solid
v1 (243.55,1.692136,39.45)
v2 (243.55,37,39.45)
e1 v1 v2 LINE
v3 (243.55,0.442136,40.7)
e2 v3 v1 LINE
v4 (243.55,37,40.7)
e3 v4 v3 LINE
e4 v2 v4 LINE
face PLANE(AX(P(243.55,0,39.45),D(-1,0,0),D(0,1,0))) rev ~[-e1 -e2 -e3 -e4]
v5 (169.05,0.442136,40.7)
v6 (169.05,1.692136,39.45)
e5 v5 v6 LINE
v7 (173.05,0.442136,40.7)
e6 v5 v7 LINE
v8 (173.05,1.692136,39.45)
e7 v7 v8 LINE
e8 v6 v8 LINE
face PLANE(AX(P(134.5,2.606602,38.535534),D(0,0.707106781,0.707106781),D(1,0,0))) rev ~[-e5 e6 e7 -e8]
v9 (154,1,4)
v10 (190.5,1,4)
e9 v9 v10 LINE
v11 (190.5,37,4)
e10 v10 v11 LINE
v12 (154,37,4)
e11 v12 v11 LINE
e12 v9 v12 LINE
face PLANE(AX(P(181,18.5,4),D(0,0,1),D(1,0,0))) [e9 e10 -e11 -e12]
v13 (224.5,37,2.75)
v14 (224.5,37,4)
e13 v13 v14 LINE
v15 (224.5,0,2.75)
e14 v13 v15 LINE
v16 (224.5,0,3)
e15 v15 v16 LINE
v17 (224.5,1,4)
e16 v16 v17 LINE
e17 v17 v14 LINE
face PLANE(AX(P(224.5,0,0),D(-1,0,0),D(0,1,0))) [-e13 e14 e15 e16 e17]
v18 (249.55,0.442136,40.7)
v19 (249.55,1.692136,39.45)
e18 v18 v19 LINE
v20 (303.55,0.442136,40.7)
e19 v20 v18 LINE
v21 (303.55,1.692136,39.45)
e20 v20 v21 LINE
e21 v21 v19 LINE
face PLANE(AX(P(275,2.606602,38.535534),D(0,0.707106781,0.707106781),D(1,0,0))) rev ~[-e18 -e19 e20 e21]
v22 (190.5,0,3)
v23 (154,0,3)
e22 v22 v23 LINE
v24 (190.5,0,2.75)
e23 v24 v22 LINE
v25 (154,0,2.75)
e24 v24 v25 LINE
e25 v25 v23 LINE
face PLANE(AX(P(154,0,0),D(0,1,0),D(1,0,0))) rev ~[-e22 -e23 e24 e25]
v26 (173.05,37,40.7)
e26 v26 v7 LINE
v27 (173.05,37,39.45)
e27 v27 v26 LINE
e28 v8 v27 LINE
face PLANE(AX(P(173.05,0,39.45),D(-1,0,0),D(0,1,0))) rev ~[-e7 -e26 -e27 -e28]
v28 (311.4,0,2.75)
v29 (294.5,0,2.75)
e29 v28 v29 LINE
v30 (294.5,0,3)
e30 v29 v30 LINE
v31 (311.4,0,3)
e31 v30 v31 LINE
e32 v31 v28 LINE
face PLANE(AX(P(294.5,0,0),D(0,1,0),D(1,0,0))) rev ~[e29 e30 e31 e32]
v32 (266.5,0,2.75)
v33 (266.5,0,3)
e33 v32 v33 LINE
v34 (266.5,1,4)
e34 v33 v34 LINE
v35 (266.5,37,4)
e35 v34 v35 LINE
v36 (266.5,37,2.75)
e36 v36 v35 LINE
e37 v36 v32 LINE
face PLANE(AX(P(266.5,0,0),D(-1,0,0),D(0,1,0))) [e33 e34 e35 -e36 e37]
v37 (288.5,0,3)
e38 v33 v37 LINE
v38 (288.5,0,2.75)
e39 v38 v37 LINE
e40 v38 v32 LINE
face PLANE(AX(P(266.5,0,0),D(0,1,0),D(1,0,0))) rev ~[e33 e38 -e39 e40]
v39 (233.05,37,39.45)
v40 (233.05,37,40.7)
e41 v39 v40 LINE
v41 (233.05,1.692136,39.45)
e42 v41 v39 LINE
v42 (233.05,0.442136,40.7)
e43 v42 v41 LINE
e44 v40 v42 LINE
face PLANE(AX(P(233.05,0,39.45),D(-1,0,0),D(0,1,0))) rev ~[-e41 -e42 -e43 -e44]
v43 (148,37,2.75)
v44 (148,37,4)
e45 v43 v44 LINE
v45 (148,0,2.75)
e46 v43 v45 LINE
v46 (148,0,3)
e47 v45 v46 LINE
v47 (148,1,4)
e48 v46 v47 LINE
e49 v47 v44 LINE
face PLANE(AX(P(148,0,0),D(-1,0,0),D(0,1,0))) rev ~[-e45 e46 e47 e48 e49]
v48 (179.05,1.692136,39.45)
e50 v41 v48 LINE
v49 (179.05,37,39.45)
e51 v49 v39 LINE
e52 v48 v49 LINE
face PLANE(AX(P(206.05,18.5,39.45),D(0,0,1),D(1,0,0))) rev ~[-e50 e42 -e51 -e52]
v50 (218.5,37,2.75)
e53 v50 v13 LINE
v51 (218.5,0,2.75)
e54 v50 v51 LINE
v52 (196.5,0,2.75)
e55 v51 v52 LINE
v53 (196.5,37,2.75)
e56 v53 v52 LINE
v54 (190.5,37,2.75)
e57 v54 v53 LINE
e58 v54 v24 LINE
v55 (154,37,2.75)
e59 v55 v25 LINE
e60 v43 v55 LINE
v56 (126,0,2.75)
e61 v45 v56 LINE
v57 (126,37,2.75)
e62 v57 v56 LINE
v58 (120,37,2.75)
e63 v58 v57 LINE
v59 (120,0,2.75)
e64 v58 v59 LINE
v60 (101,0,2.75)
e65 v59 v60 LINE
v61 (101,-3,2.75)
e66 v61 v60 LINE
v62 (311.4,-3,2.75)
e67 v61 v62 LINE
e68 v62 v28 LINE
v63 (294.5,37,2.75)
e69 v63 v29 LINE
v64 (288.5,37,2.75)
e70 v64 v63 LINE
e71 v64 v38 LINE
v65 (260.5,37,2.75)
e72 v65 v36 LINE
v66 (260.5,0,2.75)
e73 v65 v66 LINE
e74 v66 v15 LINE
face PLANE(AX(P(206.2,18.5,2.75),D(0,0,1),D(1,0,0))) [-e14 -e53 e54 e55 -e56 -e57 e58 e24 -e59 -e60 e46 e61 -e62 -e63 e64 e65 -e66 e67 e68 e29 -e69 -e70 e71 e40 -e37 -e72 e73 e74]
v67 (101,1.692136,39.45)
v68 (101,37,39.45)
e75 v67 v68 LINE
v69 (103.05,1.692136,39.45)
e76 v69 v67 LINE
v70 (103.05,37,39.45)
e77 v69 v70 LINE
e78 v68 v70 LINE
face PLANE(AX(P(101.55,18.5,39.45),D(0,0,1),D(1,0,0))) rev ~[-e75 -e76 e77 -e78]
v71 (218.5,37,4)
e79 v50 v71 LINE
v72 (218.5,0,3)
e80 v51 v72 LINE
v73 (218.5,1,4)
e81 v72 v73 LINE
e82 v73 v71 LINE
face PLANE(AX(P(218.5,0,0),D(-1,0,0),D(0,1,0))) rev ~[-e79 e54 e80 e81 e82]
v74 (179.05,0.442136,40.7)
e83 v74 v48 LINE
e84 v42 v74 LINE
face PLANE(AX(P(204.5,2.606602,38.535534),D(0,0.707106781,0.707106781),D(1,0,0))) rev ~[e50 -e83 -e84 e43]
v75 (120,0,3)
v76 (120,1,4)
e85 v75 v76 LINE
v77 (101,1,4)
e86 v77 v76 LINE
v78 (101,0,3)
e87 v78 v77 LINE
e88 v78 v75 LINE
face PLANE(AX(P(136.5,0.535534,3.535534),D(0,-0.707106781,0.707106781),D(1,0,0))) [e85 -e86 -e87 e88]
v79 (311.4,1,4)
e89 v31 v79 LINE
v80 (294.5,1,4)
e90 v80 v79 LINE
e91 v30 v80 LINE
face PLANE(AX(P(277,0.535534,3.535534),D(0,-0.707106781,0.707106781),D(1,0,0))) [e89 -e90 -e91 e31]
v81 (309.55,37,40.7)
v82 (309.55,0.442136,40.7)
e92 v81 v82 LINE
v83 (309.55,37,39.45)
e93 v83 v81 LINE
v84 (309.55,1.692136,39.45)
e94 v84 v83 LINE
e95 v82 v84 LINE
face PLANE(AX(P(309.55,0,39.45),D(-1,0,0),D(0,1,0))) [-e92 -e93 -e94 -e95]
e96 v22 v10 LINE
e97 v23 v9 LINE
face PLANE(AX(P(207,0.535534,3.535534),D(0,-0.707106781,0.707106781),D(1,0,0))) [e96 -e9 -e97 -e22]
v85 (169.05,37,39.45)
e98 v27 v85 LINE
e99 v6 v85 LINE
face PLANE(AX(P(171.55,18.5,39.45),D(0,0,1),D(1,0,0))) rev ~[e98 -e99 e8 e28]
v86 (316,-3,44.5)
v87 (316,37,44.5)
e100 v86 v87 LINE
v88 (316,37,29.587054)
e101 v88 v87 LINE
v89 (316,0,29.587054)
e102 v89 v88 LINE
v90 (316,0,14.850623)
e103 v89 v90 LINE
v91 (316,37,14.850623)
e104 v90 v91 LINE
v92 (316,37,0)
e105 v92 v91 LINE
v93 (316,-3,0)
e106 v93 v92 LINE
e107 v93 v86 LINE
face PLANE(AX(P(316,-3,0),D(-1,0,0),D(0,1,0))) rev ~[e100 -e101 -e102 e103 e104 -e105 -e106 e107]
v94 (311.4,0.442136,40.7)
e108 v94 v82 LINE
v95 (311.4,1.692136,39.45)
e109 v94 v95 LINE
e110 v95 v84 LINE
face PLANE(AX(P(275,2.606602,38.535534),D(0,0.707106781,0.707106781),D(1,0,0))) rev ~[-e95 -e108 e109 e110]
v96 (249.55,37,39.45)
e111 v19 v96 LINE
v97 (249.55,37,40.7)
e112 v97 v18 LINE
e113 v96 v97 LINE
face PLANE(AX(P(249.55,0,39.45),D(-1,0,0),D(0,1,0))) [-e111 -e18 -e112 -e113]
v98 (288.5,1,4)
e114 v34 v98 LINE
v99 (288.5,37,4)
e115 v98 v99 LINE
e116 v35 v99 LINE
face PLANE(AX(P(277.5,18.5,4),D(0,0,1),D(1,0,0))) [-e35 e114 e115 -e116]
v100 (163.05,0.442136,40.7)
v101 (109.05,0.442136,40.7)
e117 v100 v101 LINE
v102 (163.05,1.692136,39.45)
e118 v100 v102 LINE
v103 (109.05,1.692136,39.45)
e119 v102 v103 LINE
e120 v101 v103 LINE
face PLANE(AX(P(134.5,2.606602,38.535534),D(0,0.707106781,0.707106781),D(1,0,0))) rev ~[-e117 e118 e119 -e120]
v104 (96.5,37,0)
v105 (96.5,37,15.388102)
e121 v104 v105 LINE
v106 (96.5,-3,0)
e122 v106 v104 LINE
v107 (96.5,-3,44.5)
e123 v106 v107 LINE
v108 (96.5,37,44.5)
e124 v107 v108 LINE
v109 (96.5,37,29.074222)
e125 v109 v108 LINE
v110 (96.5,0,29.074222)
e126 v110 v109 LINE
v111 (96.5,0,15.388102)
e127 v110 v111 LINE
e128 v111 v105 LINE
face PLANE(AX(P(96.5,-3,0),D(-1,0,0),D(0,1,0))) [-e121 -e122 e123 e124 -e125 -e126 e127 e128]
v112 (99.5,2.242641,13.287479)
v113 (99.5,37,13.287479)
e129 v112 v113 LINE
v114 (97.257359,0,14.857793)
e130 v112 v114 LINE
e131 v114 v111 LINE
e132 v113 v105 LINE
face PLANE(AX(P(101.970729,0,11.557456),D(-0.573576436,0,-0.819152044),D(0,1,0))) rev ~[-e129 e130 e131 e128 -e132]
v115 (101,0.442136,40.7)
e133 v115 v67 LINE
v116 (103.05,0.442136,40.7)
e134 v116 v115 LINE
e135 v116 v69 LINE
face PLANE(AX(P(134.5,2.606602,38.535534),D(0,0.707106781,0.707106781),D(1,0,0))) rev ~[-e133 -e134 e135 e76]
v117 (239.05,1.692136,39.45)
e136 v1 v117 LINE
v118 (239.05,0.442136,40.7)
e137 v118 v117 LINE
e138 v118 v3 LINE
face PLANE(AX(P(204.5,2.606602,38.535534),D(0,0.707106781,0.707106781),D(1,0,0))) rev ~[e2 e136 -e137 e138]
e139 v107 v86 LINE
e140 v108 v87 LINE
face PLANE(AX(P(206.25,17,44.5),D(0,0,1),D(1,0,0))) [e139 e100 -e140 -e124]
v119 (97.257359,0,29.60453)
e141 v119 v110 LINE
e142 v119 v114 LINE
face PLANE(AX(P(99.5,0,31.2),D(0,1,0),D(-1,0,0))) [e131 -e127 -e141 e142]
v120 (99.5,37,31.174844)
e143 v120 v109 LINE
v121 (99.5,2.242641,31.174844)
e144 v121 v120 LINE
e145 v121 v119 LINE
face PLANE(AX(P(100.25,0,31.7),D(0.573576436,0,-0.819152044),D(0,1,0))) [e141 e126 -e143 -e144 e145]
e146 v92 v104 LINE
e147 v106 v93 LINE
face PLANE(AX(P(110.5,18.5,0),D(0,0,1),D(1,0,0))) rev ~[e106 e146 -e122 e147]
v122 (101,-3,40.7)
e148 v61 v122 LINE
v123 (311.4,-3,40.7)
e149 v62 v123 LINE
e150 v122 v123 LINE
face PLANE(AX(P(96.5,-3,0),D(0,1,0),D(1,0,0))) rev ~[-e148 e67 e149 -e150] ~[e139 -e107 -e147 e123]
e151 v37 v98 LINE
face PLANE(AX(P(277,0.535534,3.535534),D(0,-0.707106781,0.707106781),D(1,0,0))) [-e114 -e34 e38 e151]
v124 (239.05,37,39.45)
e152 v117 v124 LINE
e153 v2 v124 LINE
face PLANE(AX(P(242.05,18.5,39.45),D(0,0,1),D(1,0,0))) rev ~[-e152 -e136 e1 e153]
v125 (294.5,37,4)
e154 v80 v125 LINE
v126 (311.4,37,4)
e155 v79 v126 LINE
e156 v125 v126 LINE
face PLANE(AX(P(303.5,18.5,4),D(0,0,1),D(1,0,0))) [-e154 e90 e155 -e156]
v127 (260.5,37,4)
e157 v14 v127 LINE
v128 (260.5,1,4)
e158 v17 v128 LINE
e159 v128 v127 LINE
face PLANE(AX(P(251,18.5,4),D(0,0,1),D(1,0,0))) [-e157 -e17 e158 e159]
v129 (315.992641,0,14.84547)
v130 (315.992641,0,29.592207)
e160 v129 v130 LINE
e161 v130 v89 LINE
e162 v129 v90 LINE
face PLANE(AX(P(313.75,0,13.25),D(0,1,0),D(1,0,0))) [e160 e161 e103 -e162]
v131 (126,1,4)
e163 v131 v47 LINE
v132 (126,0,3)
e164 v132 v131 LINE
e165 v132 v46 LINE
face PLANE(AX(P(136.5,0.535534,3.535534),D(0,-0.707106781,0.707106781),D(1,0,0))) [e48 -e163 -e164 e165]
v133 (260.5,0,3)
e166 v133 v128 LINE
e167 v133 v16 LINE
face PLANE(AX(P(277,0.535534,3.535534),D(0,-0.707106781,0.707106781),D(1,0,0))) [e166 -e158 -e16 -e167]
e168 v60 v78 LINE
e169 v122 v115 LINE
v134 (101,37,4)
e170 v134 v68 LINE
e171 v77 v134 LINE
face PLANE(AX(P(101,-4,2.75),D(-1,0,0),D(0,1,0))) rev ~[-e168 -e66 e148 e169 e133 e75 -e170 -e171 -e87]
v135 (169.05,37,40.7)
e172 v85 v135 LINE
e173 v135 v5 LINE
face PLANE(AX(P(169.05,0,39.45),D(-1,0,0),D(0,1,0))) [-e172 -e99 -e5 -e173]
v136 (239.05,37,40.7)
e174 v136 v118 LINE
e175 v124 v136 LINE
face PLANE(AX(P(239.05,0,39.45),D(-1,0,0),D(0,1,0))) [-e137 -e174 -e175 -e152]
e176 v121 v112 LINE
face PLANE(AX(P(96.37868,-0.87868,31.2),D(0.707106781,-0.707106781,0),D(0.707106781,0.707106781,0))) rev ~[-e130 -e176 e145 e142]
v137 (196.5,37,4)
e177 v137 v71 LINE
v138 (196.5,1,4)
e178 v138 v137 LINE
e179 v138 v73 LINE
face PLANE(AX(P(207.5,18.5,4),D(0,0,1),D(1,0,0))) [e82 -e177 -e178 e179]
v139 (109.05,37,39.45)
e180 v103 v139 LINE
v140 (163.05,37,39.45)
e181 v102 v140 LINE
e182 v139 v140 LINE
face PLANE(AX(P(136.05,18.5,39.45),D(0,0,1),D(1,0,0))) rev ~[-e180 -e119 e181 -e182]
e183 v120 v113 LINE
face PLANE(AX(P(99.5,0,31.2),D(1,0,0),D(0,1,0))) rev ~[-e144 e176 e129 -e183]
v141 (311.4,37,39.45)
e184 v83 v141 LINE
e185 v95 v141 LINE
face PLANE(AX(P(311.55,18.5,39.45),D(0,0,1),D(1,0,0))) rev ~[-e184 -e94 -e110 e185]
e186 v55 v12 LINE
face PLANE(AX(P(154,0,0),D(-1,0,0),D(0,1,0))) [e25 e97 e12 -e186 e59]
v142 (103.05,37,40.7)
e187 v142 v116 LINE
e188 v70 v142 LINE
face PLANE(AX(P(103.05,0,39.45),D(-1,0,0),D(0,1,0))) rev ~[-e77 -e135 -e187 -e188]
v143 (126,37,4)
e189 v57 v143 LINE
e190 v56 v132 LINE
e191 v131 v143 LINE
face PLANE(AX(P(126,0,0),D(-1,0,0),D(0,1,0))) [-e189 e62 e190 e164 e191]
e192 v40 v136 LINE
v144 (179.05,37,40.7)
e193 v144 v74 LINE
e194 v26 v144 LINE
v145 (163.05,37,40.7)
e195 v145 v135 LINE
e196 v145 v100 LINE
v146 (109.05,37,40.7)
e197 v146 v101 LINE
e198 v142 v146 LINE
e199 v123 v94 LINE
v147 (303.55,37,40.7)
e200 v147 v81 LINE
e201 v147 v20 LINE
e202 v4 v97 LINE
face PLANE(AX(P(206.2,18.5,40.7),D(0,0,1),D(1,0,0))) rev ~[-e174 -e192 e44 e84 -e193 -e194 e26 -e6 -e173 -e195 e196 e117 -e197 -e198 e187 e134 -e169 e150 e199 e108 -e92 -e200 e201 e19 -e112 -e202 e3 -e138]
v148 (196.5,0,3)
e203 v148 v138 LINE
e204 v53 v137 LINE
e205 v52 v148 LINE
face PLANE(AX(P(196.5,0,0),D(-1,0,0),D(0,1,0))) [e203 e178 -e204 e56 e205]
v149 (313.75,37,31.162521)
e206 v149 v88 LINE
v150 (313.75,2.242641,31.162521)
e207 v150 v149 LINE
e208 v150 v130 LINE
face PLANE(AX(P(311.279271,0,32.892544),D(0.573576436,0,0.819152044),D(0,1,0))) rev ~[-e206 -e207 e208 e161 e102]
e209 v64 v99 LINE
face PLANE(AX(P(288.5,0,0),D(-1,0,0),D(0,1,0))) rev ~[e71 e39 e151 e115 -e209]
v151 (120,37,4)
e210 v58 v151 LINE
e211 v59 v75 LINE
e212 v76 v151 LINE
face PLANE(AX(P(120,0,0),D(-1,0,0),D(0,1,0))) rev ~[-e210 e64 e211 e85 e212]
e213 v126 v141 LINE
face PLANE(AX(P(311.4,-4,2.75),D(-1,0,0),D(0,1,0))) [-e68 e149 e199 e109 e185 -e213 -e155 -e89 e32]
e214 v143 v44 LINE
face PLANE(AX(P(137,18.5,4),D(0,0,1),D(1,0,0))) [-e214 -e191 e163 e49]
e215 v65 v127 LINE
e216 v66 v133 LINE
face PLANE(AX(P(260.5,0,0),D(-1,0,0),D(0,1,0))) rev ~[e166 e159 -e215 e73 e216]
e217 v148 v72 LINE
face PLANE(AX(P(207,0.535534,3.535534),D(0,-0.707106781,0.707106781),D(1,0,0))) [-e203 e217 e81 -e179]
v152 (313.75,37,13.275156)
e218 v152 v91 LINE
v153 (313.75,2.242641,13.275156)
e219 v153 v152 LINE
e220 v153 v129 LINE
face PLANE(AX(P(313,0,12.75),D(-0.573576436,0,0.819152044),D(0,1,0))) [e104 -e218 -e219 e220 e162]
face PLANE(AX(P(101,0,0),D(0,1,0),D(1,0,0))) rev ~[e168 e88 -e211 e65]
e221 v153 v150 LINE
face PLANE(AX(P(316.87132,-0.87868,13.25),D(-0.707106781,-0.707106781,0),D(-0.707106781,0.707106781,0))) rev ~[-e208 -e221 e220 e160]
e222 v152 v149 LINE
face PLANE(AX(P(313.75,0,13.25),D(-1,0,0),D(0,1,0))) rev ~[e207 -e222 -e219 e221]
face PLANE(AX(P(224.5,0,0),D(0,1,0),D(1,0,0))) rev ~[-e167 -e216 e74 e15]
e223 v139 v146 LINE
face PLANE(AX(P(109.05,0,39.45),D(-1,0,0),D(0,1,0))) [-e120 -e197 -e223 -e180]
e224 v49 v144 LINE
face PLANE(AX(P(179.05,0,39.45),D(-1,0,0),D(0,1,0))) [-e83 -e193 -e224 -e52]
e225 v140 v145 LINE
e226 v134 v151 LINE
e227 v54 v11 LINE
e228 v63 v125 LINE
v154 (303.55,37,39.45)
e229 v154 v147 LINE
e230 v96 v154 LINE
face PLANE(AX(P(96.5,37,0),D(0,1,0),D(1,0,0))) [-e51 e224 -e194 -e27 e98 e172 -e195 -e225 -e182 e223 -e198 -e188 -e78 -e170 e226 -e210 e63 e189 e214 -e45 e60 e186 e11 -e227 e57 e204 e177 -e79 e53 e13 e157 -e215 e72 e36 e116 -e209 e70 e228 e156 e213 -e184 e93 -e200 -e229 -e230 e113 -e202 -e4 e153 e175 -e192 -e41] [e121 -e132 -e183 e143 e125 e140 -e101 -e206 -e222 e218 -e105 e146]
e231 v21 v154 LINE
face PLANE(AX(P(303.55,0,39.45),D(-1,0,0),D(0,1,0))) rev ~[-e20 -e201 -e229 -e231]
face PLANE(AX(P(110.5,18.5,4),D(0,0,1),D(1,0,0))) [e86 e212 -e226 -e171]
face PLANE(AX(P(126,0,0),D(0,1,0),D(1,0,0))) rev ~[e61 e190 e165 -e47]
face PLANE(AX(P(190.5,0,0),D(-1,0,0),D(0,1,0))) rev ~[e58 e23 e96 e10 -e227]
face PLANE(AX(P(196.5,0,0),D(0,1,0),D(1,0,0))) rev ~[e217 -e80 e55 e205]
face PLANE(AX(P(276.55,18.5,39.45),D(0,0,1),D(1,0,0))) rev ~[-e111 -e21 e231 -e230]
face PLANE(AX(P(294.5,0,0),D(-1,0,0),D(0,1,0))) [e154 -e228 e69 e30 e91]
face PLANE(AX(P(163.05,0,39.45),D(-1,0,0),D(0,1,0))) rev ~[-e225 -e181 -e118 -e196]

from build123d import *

# Parameters (mm, degrees)
BOX031_W               = 85
BOX031_H               = 10
BOX031_DEPTH           = 10
BOX031_PLACEMENT_ANGLE = 45
BOX030_W               = 3
BOX030_H               = 37
BOX030_DEPTH           = 4
BOX032_W               = 4
BOX032_H               = 37
BOX032_DEPTH           = 4
BOX033_W               = 54
BOX033_H               = 37
BOX033_DEPTH           = 4
BOX035_W               = 85
BOX035_H               = 10
BOX035_DEPTH           = 10
BOX035_PLACEMENT_ANGLE = 45
BOX037_W               = 3
BOX037_H               = 37
BOX037_DEPTH           = 4
BOX034_W               = 4
BOX034_H               = 37
BOX034_DEPTH           = 4
BOX036_W               = 54
BOX036_H               = 37
BOX036_DEPTH           = 4
BOX039_W               = 85
BOX039_H               = 10
BOX039_DEPTH           = 10
BOX039_PLACEMENT_ANGLE = 45
BOX041_W               = 3
BOX041_H               = 37
BOX041_DEPTH           = 4
BOX038_W               = 4
BOX038_H               = 37
BOX038_DEPTH           = 4
BOX040_W               = 54
BOX040_H               = 37
BOX040_DEPTH           = 4
BOX045_W               = 71
BOX045_H               = 10
BOX045_DEPTH           = 10
BOX045_PLACEMENT_ANGLE = 45
BOX044_W               = 22
BOX044_H               = 37
BOX044_DEPTH           = 4
BOX042_W               = 18
BOX042_H               = 37
BOX042_DEPTH           = 4
BOX043_W               = 19
BOX043_H               = 37
BOX043_DEPTH           = 4
BOX049_W               = 71
BOX049_H               = 10
BOX049_DEPTH           = 10
BOX049_PLACEMENT_ANGLE = 45
BOX048_W               = 22
BOX048_H               = 37
BOX048_DEPTH           = 4
BOX046_W               = 18
BOX046_H               = 37
BOX046_DEPTH           = 4
BOX047_W               = 19
BOX047_H               = 37
BOX047_DEPTH           = 4
BOX053_W               = 71
BOX053_H               = 10
BOX053_DEPTH           = 10
BOX053_PLACEMENT_ANGLE = 45
BOX052_W               = 22
BOX052_H               = 37
BOX052_DEPTH           = 4
BOX050_W               = 18
BOX050_H               = 37
BOX050_DEPTH           = 4
BOX051_W               = 19
BOX051_H               = 37
BOX051_DEPTH           = 4
BOX029_W               = 210.4
BOX029_H               = 45
BOX029_DEPTH           = 37.95
BOX010_W               = 3
BOX010_H               = 37
BOX010_DEPTH           = 17.92
BOX010_PLACEMENT_ANGLE = 45
BOX008_W               = 3
BOX008_H               = 37
BOX008_DEPTH           = 17.92
BOX008_PLACEMENT_ANGLE = 55
BOX009_W               = 3
BOX009_H               = 37
BOX009_DEPTH           = 17.92
BOX009_PLACEMENT_ANGLE = 125
BOX011_W               = 3
BOX011_H               = 37
BOX011_DEPTH           = 17.92
CUT004_PLACEMENT_ANGLE = 180
BOX007_W               = 3
BOX007_H               = 37
BOX007_DEPTH           = 17.92
BOX007_PLACEMENT_ANGLE = 45
BOX005_W               = 3
BOX005_H               = 37
BOX005_DEPTH           = 17.92
BOX005_PLACEMENT_ANGLE = 55
BOX006_W               = 3
BOX006_H               = 37
BOX006_DEPTH           = 17.92
BOX006_PLACEMENT_ANGLE = 125
BOX004_W               = 3
BOX004_H               = 37
BOX004_DEPTH           = 17.92
BOX002_W               = 219.5
BOX002_H               = 40
BOX002_DEPTH           = 44.5


with BuildPart() as cube031:
    # Box031 → Box031 (new body)
    with BuildSketch(Plane.XY):
        with Locations((42.5, 5)):
            Rectangle(BOX031_W, BOX031_H)
    extrude(amount=BOX031_DEPTH)


with BuildPart() as cube031_1:
    # Box031 placement: moved
    add(cube031.part.moved(Location((13, -8, 35))).rotate(Axis((13, -8, 35), (-1, 0, 0)), BOX031_PLACEMENT_ANGLE))


with BuildPart() as cube030:
    # Box030 → Box030 (new body)
    with BuildSketch(Plane(origin=(21.05, 0, 39.45), x_dir=(1, 0, 0), z_dir=(0, 0, 1))):
        with Locations((1.5, 18.5)):
            Rectangle(BOX030_W, BOX030_H)
    extrude(amount=BOX030_DEPTH)


with BuildPart() as cube032:
    # Box032 → Box032 (new body)
    with BuildSketch(Plane(origin=(90.05, 0, 39.45), x_dir=(1, 0, 0), z_dir=(0, 0, 1))):
        with Locations((2, 18.5)):
            Rectangle(BOX032_W, BOX032_H)
    extrude(amount=BOX032_DEPTH)


with BuildPart() as cut013:
    # Box033 → Box033 (new body)
    with BuildSketch(Plane(origin=(30.05, 0, 39.45), x_dir=(1, 0, 0), z_dir=(0, 0, 1))):
        with Locations((27, 18.5)):
            Rectangle(BOX033_W, BOX033_H)
    extrude(amount=BOX033_DEPTH)

    # Fusion008: union Cube030, Cube032
    add(cube030.part)
    add(cube032.part)

    # Cut013: cut Cube031
    add(cube031_1.part, mode=Mode.SUBTRACT)


with BuildPart() as cut013_1:
    # Cut013 placement: moved
    add(cut013.part.moved(Location((219.5, 0, 0))))


with BuildPart() as cube035:
    # Box035 → Box035 (new body)
    with BuildSketch(Plane.XY):
        with Locations((42.5, 5)):
            Rectangle(BOX035_W, BOX035_H)
    extrude(amount=BOX035_DEPTH)


with BuildPart() as cube035_1:
    # Box035 placement: moved
    add(cube035.part.moved(Location((13, -8, 35))).rotate(Axis((13, -8, 35), (-1, 0, 0)), BOX035_PLACEMENT_ANGLE))


with BuildPart() as cube037:
    # Box037 → Box037 (new body)
    with BuildSketch(Plane(origin=(21.05, 0, 39.45), x_dir=(1, 0, 0), z_dir=(0, 0, 1))):
        with Locations((1.5, 18.5)):
            Rectangle(BOX037_W, BOX037_H)
    extrude(amount=BOX037_DEPTH)


with BuildPart() as cube034:
    # Box034 → Box034 (new body)
    with BuildSketch(Plane(origin=(90.05, 0, 39.45), x_dir=(1, 0, 0), z_dir=(0, 0, 1))):
        with Locations((2, 18.5)):
            Rectangle(BOX034_W, BOX034_H)
    extrude(amount=BOX034_DEPTH)


with BuildPart() as cut014:
    # Box036 → Box036 (new body)
    with BuildSketch(Plane(origin=(30.05, 0, 39.45), x_dir=(1, 0, 0), z_dir=(0, 0, 1))):
        with Locations((27, 18.5)):
            Rectangle(BOX036_W, BOX036_H)
    extrude(amount=BOX036_DEPTH)

    # Fusion009: union Cube037, Cube034
    add(cube037.part)
    add(cube034.part)

    # Cut014: cut Cube035
    add(cube035_1.part, mode=Mode.SUBTRACT)


with BuildPart() as cut014_1:
    # Cut014 placement: moved
    add(cut014.part.moved(Location((149, 0, 0))))


with BuildPart() as cube039:
    # Box039 → Box039 (new body)
    with BuildSketch(Plane.XY):
        with Locations((42.5, 5)):
            Rectangle(BOX039_W, BOX039_H)
    extrude(amount=BOX039_DEPTH)


with BuildPart() as cube039_1:
    # Box039 placement: moved
    add(cube039.part.moved(Location((13, -8, 35))).rotate(Axis((13, -8, 35), (-1, 0, 0)), BOX039_PLACEMENT_ANGLE))


with BuildPart() as cube041:
    # Box041 → Box041 (new body)
    with BuildSketch(Plane(origin=(21.05, 0, 39.45), x_dir=(1, 0, 0), z_dir=(0, 0, 1))):
        with Locations((1.5, 18.5)):
            Rectangle(BOX041_W, BOX041_H)
    extrude(amount=BOX041_DEPTH)


with BuildPart() as cube038:
    # Box038 → Box038 (new body)
    with BuildSketch(Plane(origin=(90.05, 0, 39.45), x_dir=(1, 0, 0), z_dir=(0, 0, 1))):
        with Locations((2, 18.5)):
            Rectangle(BOX038_W, BOX038_H)
    extrude(amount=BOX038_DEPTH)


with BuildPart() as cut015:
    # Box040 → Box040 (new body)
    with BuildSketch(Plane(origin=(30.05, 0, 39.45), x_dir=(1, 0, 0), z_dir=(0, 0, 1))):
        with Locations((27, 18.5)):
            Rectangle(BOX040_W, BOX040_H)
    extrude(amount=BOX040_DEPTH)

    # Fusion010: union Cube041, Cube038
    add(cube041.part)
    add(cube038.part)

    # Cut015: cut Cube039
    add(cube039_1.part, mode=Mode.SUBTRACT)


with BuildPart() as cut015_1:
    # Cut015 placement: moved
    add(cut015.part.moved(Location((79, 0, 0))))


with BuildPart() as cube045:
    # Box045 → Box045 (new body)
    with BuildSketch(Plane.XY):
        with Locations((35.5, 5)):
            Rectangle(BOX045_W, BOX045_H)
    extrude(amount=BOX045_DEPTH)


with BuildPart() as cube045_1:
    # Box045 placement: moved
    add(cube045.part.moved(Location((22, -3, 0))).rotate(Axis((22, -3, 0), (1, 0, 0)), BOX045_PLACEMENT_ANGLE))


with BuildPart() as cube044:
    # Box044 → Box044 (new body)
    with BuildSketch(Plane(origin=(47, 0, 0), x_dir=(1, 0, 0), z_dir=(0, 0, 1))):
        with Locations((11, 18.5)):
            Rectangle(BOX044_W, BOX044_H)
    extrude(amount=BOX044_DEPTH)


with BuildPart() as cube042:
    # Box042 → Box042 (new body)
    with BuildSketch(Plane(origin=(75, 0, 0), x_dir=(1, 0, 0), z_dir=(0, 0, 1))):
        with Locations((9, 18.5)):
            Rectangle(BOX042_W, BOX042_H)
    extrude(amount=BOX042_DEPTH)


with BuildPart() as cut016:
    # Box043 → Box043 (new body)
    with BuildSketch(Plane(origin=(22, 0, 0), x_dir=(1, 0, 0), z_dir=(0, 0, 1))):
        with Locations((9.5, 18.5)):
            Rectangle(BOX043_W, BOX043_H)
    extrude(amount=BOX043_DEPTH)

    # Fusion011: union Cube044, Cube042
    add(cube044.part)
    add(cube042.part)

    # Cut016: cut Cube045
    add(cube045_1.part, mode=Mode.SUBTRACT)


with BuildPart() as cut016_1:
    # Cut016 placement: moved
    add(cut016.part.moved(Location((219.5, 0, 0))))


with BuildPart() as cube049:
    # Box049 → Box049 (new body)
    with BuildSketch(Plane.XY):
        with Locations((35.5, 5)):
            Rectangle(BOX049_W, BOX049_H)
    extrude(amount=BOX049_DEPTH)


with BuildPart() as cube049_1:
    # Box049 placement: moved
    add(cube049.part.moved(Location((22, -3, 0))).rotate(Axis((22, -3, 0), (1, 0, 0)), BOX049_PLACEMENT_ANGLE))


with BuildPart() as cube048:
    # Box048 → Box048 (new body)
    with BuildSketch(Plane(origin=(47, 0, 0), x_dir=(1, 0, 0), z_dir=(0, 0, 1))):
        with Locations((11, 18.5)):
            Rectangle(BOX048_W, BOX048_H)
    extrude(amount=BOX048_DEPTH)


with BuildPart() as cube046:
    # Box046 → Box046 (new body)
    with BuildSketch(Plane(origin=(75, 0, 0), x_dir=(1, 0, 0), z_dir=(0, 0, 1))):
        with Locations((9, 18.5)):
            Rectangle(BOX046_W, BOX046_H)
    extrude(amount=BOX046_DEPTH)


with BuildPart() as cut017:
    # Box047 → Box047 (new body)
    with BuildSketch(Plane(origin=(22, 0, 0), x_dir=(1, 0, 0), z_dir=(0, 0, 1))):
        with Locations((9.5, 18.5)):
            Rectangle(BOX047_W, BOX047_H)
    extrude(amount=BOX047_DEPTH)

    # Fusion012: union Cube048, Cube046
    add(cube048.part)
    add(cube046.part)

    # Cut017: cut Cube049
    add(cube049_1.part, mode=Mode.SUBTRACT)


with BuildPart() as cut017_1:
    # Cut017 placement: moved
    add(cut017.part.moved(Location((149.5, 0, 0))))


with BuildPart() as cube053:
    # Box053 → Box053 (new body)
    with BuildSketch(Plane.XY):
        with Locations((35.5, 5)):
            Rectangle(BOX053_W, BOX053_H)
    extrude(amount=BOX053_DEPTH)


with BuildPart() as cube053_1:
    # Box053 placement: moved
    add(cube053.part.moved(Location((22, -3, 0))).rotate(Axis((22, -3, 0), (1, 0, 0)), BOX053_PLACEMENT_ANGLE))


with BuildPart() as cube052:
    # Box052 → Box052 (new body)
    with BuildSketch(Plane(origin=(47, 0, 0), x_dir=(1, 0, 0), z_dir=(0, 0, 1))):
        with Locations((11, 18.5)):
            Rectangle(BOX052_W, BOX052_H)
    extrude(amount=BOX052_DEPTH)


with BuildPart() as cube050:
    # Box050 → Box050 (new body)
    with BuildSketch(Plane(origin=(75, 0, 0), x_dir=(1, 0, 0), z_dir=(0, 0, 1))):
        with Locations((9, 18.5)):
            Rectangle(BOX050_W, BOX050_H)
    extrude(amount=BOX050_DEPTH)


with BuildPart() as cut018:
    # Box051 → Box051 (new body)
    with BuildSketch(Plane(origin=(22, 0, 0), x_dir=(1, 0, 0), z_dir=(0, 0, 1))):
        with Locations((9.5, 18.5)):
            Rectangle(BOX051_W, BOX051_H)
    extrude(amount=BOX051_DEPTH)

    # Fusion013: union Cube052, Cube050
    add(cube052.part)
    add(cube050.part)

    # Cut018: cut Cube053
    add(cube053_1.part, mode=Mode.SUBTRACT)


with BuildPart() as cut018_1:
    # Cut018 placement: moved
    add(cut018.part.moved(Location((79, 0, 0))))


with BuildPart() as cube029:
    # Box029 → Box029 (new body)
    with BuildSketch(Plane(origin=(101, -4, 2.75), x_dir=(1, 0, 0), z_dir=(0, 0, 1))):
        with Locations((105.2, 22.5)):
            Rectangle(BOX029_W, BOX029_H)
    extrude(amount=BOX029_DEPTH)


with BuildPart() as cube010:
    # Box010 → Box010 (new body)
    with BuildSketch(Plane.XY):
        with Locations((1.5, 18.5)):
            Rectangle(BOX010_W, BOX010_H)
    extrude(amount=BOX010_DEPTH)


with BuildPart() as cube010_1:
    # Box010 placement: moved
    add(cube010.part.moved(Location((314.75, -3, 13.25))).rotate(Axis((314.75, -3, 13.25), (0, 0, 1)), BOX010_PLACEMENT_ANGLE))


with BuildPart() as cube008:
    # Box008 → Box008 (new body)
    with BuildSketch(Plane.XY):
        with Locations((1.5, 18.5)):
            Rectangle(BOX008_W, BOX008_H)
    extrude(amount=BOX008_DEPTH)


with BuildPart() as cube008_1:
    # Box008 placement: moved
    add(cube008.part.moved(Location((313, 0, 12.75))).rotate(Axis((313, 0, 12.75), (0, 1, 0)), BOX008_PLACEMENT_ANGLE))


with BuildPart() as fusion001:
    # Box009 → Box009 (new body)
    with BuildSketch(Plane.XY):
        with Locations((1.5, 18.5)):
            Rectangle(BOX009_W, BOX009_H)
    extrude(amount=BOX009_DEPTH)


with BuildPart() as fusion001_1:
    # Box009 placement: moved
    add(fusion001.part.moved(Location((313, 0, 35.35))).rotate(Axis((313, 0, 35.35), (0, 1, 0)), BOX009_PLACEMENT_ANGLE))

    # Fusion001: union Cube008
    add(cube008_1.part)


with BuildPart() as cut004:
    # Box011 → Box011 (new body)
    with BuildSketch(Plane(origin=(313.75, 0, 13.25), x_dir=(1, 0, 0), z_dir=(0, 0, 1))):
        with Locations((1.5, 18.5)):
            Rectangle(BOX011_W, BOX011_H)
    extrude(amount=BOX011_DEPTH)

    # Cut003: cut Fusion001
    add(fusion001_1.part, mode=Mode.SUBTRACT)

    # Cut004: cut Cube010
    add(cube010_1.part, mode=Mode.SUBTRACT)


with BuildPart() as cut004_1:
    # Cut004 placement: moved
    add(cut004.part.moved(Location((413.25, 0, 44.45))).rotate(Axis((413.25, 0, 44.45), (0, 1, 0)), CUT004_PLACEMENT_ANGLE))


with BuildPart() as cube007:
    # Box007 → Box007 (new body)
    with BuildSketch(Plane.XY):
        with Locations((1.5, 18.5)):
            Rectangle(BOX007_W, BOX007_H)
    extrude(amount=BOX007_DEPTH)


with BuildPart() as cube007_1:
    # Box007 placement: moved
    add(cube007.part.moved(Location((314.75, -3, 13.25))).rotate(Axis((314.75, -3, 13.25), (0, 0, 1)), BOX007_PLACEMENT_ANGLE))


with BuildPart() as cube005:
    # Box005 → Box005 (new body)
    with BuildSketch(Plane.XY):
        with Locations((1.5, 18.5)):
            Rectangle(BOX005_W, BOX005_H)
    extrude(amount=BOX005_DEPTH)


with BuildPart() as cube005_1:
    # Box005 placement: moved
    add(cube005.part.moved(Location((313, 0, 12.75))).rotate(Axis((313, 0, 12.75), (0, 1, 0)), BOX005_PLACEMENT_ANGLE))


with BuildPart() as fusion:
    # Box006 → Box006 (new body)
    with BuildSketch(Plane.XY):
        with Locations((1.5, 18.5)):
            Rectangle(BOX006_W, BOX006_H)
    extrude(amount=BOX006_DEPTH)


with BuildPart() as fusion_1:
    # Box006 placement: moved
    add(fusion.part.moved(Location((313, 0, 35.35))).rotate(Axis((313, 0, 35.35), (0, 1, 0)), BOX006_PLACEMENT_ANGLE))

    # Fusion: union Cube005
    add(cube005_1.part)


with BuildPart() as cut001:
    # Box004 → Box004 (new body)
    with BuildSketch(Plane(origin=(313.75, 0, 13.25), x_dir=(1, 0, 0), z_dir=(0, 0, 1))):
        with Locations((1.5, 18.5)):
            Rectangle(BOX004_W, BOX004_H)
    extrude(amount=BOX004_DEPTH)

    # Cut: cut Fusion
    add(fusion_1.part, mode=Mode.SUBTRACT)

    # Cut001: cut Cube007
    add(cube007_1.part, mode=Mode.SUBTRACT)


with BuildPart() as rack_middle_wider:
    # Box002 → Box002 (new body)
    with BuildSketch(Plane(origin=(96.5, -3, 0), x_dir=(1, 0, 0), z_dir=(0, 0, 1))):
        with Locations((109.75, 20)):
            Rectangle(BOX002_W, BOX002_H)
    extrude(amount=BOX002_DEPTH)

    # Cut002: cut Cut001
    add(cut001.part, mode=Mode.SUBTRACT)

    # Cut005: cut Cut004
    add(cut004_1.part, mode=Mode.SUBTRACT)

    # Cut012: cut Cube029
    add(cube029.part, mode=Mode.SUBTRACT)

    # Fusion014: union Cut013, Cut014, Cut015, Cut016, Cut017, Cut018
    add(cut013_1.part)
    add(cut014_1.part)
    add(cut015_1.part)
    add(cut016_1.part)
    add(cut017_1.part)
    add(cut018_1.part)


solid = rack_middle_wider.part
